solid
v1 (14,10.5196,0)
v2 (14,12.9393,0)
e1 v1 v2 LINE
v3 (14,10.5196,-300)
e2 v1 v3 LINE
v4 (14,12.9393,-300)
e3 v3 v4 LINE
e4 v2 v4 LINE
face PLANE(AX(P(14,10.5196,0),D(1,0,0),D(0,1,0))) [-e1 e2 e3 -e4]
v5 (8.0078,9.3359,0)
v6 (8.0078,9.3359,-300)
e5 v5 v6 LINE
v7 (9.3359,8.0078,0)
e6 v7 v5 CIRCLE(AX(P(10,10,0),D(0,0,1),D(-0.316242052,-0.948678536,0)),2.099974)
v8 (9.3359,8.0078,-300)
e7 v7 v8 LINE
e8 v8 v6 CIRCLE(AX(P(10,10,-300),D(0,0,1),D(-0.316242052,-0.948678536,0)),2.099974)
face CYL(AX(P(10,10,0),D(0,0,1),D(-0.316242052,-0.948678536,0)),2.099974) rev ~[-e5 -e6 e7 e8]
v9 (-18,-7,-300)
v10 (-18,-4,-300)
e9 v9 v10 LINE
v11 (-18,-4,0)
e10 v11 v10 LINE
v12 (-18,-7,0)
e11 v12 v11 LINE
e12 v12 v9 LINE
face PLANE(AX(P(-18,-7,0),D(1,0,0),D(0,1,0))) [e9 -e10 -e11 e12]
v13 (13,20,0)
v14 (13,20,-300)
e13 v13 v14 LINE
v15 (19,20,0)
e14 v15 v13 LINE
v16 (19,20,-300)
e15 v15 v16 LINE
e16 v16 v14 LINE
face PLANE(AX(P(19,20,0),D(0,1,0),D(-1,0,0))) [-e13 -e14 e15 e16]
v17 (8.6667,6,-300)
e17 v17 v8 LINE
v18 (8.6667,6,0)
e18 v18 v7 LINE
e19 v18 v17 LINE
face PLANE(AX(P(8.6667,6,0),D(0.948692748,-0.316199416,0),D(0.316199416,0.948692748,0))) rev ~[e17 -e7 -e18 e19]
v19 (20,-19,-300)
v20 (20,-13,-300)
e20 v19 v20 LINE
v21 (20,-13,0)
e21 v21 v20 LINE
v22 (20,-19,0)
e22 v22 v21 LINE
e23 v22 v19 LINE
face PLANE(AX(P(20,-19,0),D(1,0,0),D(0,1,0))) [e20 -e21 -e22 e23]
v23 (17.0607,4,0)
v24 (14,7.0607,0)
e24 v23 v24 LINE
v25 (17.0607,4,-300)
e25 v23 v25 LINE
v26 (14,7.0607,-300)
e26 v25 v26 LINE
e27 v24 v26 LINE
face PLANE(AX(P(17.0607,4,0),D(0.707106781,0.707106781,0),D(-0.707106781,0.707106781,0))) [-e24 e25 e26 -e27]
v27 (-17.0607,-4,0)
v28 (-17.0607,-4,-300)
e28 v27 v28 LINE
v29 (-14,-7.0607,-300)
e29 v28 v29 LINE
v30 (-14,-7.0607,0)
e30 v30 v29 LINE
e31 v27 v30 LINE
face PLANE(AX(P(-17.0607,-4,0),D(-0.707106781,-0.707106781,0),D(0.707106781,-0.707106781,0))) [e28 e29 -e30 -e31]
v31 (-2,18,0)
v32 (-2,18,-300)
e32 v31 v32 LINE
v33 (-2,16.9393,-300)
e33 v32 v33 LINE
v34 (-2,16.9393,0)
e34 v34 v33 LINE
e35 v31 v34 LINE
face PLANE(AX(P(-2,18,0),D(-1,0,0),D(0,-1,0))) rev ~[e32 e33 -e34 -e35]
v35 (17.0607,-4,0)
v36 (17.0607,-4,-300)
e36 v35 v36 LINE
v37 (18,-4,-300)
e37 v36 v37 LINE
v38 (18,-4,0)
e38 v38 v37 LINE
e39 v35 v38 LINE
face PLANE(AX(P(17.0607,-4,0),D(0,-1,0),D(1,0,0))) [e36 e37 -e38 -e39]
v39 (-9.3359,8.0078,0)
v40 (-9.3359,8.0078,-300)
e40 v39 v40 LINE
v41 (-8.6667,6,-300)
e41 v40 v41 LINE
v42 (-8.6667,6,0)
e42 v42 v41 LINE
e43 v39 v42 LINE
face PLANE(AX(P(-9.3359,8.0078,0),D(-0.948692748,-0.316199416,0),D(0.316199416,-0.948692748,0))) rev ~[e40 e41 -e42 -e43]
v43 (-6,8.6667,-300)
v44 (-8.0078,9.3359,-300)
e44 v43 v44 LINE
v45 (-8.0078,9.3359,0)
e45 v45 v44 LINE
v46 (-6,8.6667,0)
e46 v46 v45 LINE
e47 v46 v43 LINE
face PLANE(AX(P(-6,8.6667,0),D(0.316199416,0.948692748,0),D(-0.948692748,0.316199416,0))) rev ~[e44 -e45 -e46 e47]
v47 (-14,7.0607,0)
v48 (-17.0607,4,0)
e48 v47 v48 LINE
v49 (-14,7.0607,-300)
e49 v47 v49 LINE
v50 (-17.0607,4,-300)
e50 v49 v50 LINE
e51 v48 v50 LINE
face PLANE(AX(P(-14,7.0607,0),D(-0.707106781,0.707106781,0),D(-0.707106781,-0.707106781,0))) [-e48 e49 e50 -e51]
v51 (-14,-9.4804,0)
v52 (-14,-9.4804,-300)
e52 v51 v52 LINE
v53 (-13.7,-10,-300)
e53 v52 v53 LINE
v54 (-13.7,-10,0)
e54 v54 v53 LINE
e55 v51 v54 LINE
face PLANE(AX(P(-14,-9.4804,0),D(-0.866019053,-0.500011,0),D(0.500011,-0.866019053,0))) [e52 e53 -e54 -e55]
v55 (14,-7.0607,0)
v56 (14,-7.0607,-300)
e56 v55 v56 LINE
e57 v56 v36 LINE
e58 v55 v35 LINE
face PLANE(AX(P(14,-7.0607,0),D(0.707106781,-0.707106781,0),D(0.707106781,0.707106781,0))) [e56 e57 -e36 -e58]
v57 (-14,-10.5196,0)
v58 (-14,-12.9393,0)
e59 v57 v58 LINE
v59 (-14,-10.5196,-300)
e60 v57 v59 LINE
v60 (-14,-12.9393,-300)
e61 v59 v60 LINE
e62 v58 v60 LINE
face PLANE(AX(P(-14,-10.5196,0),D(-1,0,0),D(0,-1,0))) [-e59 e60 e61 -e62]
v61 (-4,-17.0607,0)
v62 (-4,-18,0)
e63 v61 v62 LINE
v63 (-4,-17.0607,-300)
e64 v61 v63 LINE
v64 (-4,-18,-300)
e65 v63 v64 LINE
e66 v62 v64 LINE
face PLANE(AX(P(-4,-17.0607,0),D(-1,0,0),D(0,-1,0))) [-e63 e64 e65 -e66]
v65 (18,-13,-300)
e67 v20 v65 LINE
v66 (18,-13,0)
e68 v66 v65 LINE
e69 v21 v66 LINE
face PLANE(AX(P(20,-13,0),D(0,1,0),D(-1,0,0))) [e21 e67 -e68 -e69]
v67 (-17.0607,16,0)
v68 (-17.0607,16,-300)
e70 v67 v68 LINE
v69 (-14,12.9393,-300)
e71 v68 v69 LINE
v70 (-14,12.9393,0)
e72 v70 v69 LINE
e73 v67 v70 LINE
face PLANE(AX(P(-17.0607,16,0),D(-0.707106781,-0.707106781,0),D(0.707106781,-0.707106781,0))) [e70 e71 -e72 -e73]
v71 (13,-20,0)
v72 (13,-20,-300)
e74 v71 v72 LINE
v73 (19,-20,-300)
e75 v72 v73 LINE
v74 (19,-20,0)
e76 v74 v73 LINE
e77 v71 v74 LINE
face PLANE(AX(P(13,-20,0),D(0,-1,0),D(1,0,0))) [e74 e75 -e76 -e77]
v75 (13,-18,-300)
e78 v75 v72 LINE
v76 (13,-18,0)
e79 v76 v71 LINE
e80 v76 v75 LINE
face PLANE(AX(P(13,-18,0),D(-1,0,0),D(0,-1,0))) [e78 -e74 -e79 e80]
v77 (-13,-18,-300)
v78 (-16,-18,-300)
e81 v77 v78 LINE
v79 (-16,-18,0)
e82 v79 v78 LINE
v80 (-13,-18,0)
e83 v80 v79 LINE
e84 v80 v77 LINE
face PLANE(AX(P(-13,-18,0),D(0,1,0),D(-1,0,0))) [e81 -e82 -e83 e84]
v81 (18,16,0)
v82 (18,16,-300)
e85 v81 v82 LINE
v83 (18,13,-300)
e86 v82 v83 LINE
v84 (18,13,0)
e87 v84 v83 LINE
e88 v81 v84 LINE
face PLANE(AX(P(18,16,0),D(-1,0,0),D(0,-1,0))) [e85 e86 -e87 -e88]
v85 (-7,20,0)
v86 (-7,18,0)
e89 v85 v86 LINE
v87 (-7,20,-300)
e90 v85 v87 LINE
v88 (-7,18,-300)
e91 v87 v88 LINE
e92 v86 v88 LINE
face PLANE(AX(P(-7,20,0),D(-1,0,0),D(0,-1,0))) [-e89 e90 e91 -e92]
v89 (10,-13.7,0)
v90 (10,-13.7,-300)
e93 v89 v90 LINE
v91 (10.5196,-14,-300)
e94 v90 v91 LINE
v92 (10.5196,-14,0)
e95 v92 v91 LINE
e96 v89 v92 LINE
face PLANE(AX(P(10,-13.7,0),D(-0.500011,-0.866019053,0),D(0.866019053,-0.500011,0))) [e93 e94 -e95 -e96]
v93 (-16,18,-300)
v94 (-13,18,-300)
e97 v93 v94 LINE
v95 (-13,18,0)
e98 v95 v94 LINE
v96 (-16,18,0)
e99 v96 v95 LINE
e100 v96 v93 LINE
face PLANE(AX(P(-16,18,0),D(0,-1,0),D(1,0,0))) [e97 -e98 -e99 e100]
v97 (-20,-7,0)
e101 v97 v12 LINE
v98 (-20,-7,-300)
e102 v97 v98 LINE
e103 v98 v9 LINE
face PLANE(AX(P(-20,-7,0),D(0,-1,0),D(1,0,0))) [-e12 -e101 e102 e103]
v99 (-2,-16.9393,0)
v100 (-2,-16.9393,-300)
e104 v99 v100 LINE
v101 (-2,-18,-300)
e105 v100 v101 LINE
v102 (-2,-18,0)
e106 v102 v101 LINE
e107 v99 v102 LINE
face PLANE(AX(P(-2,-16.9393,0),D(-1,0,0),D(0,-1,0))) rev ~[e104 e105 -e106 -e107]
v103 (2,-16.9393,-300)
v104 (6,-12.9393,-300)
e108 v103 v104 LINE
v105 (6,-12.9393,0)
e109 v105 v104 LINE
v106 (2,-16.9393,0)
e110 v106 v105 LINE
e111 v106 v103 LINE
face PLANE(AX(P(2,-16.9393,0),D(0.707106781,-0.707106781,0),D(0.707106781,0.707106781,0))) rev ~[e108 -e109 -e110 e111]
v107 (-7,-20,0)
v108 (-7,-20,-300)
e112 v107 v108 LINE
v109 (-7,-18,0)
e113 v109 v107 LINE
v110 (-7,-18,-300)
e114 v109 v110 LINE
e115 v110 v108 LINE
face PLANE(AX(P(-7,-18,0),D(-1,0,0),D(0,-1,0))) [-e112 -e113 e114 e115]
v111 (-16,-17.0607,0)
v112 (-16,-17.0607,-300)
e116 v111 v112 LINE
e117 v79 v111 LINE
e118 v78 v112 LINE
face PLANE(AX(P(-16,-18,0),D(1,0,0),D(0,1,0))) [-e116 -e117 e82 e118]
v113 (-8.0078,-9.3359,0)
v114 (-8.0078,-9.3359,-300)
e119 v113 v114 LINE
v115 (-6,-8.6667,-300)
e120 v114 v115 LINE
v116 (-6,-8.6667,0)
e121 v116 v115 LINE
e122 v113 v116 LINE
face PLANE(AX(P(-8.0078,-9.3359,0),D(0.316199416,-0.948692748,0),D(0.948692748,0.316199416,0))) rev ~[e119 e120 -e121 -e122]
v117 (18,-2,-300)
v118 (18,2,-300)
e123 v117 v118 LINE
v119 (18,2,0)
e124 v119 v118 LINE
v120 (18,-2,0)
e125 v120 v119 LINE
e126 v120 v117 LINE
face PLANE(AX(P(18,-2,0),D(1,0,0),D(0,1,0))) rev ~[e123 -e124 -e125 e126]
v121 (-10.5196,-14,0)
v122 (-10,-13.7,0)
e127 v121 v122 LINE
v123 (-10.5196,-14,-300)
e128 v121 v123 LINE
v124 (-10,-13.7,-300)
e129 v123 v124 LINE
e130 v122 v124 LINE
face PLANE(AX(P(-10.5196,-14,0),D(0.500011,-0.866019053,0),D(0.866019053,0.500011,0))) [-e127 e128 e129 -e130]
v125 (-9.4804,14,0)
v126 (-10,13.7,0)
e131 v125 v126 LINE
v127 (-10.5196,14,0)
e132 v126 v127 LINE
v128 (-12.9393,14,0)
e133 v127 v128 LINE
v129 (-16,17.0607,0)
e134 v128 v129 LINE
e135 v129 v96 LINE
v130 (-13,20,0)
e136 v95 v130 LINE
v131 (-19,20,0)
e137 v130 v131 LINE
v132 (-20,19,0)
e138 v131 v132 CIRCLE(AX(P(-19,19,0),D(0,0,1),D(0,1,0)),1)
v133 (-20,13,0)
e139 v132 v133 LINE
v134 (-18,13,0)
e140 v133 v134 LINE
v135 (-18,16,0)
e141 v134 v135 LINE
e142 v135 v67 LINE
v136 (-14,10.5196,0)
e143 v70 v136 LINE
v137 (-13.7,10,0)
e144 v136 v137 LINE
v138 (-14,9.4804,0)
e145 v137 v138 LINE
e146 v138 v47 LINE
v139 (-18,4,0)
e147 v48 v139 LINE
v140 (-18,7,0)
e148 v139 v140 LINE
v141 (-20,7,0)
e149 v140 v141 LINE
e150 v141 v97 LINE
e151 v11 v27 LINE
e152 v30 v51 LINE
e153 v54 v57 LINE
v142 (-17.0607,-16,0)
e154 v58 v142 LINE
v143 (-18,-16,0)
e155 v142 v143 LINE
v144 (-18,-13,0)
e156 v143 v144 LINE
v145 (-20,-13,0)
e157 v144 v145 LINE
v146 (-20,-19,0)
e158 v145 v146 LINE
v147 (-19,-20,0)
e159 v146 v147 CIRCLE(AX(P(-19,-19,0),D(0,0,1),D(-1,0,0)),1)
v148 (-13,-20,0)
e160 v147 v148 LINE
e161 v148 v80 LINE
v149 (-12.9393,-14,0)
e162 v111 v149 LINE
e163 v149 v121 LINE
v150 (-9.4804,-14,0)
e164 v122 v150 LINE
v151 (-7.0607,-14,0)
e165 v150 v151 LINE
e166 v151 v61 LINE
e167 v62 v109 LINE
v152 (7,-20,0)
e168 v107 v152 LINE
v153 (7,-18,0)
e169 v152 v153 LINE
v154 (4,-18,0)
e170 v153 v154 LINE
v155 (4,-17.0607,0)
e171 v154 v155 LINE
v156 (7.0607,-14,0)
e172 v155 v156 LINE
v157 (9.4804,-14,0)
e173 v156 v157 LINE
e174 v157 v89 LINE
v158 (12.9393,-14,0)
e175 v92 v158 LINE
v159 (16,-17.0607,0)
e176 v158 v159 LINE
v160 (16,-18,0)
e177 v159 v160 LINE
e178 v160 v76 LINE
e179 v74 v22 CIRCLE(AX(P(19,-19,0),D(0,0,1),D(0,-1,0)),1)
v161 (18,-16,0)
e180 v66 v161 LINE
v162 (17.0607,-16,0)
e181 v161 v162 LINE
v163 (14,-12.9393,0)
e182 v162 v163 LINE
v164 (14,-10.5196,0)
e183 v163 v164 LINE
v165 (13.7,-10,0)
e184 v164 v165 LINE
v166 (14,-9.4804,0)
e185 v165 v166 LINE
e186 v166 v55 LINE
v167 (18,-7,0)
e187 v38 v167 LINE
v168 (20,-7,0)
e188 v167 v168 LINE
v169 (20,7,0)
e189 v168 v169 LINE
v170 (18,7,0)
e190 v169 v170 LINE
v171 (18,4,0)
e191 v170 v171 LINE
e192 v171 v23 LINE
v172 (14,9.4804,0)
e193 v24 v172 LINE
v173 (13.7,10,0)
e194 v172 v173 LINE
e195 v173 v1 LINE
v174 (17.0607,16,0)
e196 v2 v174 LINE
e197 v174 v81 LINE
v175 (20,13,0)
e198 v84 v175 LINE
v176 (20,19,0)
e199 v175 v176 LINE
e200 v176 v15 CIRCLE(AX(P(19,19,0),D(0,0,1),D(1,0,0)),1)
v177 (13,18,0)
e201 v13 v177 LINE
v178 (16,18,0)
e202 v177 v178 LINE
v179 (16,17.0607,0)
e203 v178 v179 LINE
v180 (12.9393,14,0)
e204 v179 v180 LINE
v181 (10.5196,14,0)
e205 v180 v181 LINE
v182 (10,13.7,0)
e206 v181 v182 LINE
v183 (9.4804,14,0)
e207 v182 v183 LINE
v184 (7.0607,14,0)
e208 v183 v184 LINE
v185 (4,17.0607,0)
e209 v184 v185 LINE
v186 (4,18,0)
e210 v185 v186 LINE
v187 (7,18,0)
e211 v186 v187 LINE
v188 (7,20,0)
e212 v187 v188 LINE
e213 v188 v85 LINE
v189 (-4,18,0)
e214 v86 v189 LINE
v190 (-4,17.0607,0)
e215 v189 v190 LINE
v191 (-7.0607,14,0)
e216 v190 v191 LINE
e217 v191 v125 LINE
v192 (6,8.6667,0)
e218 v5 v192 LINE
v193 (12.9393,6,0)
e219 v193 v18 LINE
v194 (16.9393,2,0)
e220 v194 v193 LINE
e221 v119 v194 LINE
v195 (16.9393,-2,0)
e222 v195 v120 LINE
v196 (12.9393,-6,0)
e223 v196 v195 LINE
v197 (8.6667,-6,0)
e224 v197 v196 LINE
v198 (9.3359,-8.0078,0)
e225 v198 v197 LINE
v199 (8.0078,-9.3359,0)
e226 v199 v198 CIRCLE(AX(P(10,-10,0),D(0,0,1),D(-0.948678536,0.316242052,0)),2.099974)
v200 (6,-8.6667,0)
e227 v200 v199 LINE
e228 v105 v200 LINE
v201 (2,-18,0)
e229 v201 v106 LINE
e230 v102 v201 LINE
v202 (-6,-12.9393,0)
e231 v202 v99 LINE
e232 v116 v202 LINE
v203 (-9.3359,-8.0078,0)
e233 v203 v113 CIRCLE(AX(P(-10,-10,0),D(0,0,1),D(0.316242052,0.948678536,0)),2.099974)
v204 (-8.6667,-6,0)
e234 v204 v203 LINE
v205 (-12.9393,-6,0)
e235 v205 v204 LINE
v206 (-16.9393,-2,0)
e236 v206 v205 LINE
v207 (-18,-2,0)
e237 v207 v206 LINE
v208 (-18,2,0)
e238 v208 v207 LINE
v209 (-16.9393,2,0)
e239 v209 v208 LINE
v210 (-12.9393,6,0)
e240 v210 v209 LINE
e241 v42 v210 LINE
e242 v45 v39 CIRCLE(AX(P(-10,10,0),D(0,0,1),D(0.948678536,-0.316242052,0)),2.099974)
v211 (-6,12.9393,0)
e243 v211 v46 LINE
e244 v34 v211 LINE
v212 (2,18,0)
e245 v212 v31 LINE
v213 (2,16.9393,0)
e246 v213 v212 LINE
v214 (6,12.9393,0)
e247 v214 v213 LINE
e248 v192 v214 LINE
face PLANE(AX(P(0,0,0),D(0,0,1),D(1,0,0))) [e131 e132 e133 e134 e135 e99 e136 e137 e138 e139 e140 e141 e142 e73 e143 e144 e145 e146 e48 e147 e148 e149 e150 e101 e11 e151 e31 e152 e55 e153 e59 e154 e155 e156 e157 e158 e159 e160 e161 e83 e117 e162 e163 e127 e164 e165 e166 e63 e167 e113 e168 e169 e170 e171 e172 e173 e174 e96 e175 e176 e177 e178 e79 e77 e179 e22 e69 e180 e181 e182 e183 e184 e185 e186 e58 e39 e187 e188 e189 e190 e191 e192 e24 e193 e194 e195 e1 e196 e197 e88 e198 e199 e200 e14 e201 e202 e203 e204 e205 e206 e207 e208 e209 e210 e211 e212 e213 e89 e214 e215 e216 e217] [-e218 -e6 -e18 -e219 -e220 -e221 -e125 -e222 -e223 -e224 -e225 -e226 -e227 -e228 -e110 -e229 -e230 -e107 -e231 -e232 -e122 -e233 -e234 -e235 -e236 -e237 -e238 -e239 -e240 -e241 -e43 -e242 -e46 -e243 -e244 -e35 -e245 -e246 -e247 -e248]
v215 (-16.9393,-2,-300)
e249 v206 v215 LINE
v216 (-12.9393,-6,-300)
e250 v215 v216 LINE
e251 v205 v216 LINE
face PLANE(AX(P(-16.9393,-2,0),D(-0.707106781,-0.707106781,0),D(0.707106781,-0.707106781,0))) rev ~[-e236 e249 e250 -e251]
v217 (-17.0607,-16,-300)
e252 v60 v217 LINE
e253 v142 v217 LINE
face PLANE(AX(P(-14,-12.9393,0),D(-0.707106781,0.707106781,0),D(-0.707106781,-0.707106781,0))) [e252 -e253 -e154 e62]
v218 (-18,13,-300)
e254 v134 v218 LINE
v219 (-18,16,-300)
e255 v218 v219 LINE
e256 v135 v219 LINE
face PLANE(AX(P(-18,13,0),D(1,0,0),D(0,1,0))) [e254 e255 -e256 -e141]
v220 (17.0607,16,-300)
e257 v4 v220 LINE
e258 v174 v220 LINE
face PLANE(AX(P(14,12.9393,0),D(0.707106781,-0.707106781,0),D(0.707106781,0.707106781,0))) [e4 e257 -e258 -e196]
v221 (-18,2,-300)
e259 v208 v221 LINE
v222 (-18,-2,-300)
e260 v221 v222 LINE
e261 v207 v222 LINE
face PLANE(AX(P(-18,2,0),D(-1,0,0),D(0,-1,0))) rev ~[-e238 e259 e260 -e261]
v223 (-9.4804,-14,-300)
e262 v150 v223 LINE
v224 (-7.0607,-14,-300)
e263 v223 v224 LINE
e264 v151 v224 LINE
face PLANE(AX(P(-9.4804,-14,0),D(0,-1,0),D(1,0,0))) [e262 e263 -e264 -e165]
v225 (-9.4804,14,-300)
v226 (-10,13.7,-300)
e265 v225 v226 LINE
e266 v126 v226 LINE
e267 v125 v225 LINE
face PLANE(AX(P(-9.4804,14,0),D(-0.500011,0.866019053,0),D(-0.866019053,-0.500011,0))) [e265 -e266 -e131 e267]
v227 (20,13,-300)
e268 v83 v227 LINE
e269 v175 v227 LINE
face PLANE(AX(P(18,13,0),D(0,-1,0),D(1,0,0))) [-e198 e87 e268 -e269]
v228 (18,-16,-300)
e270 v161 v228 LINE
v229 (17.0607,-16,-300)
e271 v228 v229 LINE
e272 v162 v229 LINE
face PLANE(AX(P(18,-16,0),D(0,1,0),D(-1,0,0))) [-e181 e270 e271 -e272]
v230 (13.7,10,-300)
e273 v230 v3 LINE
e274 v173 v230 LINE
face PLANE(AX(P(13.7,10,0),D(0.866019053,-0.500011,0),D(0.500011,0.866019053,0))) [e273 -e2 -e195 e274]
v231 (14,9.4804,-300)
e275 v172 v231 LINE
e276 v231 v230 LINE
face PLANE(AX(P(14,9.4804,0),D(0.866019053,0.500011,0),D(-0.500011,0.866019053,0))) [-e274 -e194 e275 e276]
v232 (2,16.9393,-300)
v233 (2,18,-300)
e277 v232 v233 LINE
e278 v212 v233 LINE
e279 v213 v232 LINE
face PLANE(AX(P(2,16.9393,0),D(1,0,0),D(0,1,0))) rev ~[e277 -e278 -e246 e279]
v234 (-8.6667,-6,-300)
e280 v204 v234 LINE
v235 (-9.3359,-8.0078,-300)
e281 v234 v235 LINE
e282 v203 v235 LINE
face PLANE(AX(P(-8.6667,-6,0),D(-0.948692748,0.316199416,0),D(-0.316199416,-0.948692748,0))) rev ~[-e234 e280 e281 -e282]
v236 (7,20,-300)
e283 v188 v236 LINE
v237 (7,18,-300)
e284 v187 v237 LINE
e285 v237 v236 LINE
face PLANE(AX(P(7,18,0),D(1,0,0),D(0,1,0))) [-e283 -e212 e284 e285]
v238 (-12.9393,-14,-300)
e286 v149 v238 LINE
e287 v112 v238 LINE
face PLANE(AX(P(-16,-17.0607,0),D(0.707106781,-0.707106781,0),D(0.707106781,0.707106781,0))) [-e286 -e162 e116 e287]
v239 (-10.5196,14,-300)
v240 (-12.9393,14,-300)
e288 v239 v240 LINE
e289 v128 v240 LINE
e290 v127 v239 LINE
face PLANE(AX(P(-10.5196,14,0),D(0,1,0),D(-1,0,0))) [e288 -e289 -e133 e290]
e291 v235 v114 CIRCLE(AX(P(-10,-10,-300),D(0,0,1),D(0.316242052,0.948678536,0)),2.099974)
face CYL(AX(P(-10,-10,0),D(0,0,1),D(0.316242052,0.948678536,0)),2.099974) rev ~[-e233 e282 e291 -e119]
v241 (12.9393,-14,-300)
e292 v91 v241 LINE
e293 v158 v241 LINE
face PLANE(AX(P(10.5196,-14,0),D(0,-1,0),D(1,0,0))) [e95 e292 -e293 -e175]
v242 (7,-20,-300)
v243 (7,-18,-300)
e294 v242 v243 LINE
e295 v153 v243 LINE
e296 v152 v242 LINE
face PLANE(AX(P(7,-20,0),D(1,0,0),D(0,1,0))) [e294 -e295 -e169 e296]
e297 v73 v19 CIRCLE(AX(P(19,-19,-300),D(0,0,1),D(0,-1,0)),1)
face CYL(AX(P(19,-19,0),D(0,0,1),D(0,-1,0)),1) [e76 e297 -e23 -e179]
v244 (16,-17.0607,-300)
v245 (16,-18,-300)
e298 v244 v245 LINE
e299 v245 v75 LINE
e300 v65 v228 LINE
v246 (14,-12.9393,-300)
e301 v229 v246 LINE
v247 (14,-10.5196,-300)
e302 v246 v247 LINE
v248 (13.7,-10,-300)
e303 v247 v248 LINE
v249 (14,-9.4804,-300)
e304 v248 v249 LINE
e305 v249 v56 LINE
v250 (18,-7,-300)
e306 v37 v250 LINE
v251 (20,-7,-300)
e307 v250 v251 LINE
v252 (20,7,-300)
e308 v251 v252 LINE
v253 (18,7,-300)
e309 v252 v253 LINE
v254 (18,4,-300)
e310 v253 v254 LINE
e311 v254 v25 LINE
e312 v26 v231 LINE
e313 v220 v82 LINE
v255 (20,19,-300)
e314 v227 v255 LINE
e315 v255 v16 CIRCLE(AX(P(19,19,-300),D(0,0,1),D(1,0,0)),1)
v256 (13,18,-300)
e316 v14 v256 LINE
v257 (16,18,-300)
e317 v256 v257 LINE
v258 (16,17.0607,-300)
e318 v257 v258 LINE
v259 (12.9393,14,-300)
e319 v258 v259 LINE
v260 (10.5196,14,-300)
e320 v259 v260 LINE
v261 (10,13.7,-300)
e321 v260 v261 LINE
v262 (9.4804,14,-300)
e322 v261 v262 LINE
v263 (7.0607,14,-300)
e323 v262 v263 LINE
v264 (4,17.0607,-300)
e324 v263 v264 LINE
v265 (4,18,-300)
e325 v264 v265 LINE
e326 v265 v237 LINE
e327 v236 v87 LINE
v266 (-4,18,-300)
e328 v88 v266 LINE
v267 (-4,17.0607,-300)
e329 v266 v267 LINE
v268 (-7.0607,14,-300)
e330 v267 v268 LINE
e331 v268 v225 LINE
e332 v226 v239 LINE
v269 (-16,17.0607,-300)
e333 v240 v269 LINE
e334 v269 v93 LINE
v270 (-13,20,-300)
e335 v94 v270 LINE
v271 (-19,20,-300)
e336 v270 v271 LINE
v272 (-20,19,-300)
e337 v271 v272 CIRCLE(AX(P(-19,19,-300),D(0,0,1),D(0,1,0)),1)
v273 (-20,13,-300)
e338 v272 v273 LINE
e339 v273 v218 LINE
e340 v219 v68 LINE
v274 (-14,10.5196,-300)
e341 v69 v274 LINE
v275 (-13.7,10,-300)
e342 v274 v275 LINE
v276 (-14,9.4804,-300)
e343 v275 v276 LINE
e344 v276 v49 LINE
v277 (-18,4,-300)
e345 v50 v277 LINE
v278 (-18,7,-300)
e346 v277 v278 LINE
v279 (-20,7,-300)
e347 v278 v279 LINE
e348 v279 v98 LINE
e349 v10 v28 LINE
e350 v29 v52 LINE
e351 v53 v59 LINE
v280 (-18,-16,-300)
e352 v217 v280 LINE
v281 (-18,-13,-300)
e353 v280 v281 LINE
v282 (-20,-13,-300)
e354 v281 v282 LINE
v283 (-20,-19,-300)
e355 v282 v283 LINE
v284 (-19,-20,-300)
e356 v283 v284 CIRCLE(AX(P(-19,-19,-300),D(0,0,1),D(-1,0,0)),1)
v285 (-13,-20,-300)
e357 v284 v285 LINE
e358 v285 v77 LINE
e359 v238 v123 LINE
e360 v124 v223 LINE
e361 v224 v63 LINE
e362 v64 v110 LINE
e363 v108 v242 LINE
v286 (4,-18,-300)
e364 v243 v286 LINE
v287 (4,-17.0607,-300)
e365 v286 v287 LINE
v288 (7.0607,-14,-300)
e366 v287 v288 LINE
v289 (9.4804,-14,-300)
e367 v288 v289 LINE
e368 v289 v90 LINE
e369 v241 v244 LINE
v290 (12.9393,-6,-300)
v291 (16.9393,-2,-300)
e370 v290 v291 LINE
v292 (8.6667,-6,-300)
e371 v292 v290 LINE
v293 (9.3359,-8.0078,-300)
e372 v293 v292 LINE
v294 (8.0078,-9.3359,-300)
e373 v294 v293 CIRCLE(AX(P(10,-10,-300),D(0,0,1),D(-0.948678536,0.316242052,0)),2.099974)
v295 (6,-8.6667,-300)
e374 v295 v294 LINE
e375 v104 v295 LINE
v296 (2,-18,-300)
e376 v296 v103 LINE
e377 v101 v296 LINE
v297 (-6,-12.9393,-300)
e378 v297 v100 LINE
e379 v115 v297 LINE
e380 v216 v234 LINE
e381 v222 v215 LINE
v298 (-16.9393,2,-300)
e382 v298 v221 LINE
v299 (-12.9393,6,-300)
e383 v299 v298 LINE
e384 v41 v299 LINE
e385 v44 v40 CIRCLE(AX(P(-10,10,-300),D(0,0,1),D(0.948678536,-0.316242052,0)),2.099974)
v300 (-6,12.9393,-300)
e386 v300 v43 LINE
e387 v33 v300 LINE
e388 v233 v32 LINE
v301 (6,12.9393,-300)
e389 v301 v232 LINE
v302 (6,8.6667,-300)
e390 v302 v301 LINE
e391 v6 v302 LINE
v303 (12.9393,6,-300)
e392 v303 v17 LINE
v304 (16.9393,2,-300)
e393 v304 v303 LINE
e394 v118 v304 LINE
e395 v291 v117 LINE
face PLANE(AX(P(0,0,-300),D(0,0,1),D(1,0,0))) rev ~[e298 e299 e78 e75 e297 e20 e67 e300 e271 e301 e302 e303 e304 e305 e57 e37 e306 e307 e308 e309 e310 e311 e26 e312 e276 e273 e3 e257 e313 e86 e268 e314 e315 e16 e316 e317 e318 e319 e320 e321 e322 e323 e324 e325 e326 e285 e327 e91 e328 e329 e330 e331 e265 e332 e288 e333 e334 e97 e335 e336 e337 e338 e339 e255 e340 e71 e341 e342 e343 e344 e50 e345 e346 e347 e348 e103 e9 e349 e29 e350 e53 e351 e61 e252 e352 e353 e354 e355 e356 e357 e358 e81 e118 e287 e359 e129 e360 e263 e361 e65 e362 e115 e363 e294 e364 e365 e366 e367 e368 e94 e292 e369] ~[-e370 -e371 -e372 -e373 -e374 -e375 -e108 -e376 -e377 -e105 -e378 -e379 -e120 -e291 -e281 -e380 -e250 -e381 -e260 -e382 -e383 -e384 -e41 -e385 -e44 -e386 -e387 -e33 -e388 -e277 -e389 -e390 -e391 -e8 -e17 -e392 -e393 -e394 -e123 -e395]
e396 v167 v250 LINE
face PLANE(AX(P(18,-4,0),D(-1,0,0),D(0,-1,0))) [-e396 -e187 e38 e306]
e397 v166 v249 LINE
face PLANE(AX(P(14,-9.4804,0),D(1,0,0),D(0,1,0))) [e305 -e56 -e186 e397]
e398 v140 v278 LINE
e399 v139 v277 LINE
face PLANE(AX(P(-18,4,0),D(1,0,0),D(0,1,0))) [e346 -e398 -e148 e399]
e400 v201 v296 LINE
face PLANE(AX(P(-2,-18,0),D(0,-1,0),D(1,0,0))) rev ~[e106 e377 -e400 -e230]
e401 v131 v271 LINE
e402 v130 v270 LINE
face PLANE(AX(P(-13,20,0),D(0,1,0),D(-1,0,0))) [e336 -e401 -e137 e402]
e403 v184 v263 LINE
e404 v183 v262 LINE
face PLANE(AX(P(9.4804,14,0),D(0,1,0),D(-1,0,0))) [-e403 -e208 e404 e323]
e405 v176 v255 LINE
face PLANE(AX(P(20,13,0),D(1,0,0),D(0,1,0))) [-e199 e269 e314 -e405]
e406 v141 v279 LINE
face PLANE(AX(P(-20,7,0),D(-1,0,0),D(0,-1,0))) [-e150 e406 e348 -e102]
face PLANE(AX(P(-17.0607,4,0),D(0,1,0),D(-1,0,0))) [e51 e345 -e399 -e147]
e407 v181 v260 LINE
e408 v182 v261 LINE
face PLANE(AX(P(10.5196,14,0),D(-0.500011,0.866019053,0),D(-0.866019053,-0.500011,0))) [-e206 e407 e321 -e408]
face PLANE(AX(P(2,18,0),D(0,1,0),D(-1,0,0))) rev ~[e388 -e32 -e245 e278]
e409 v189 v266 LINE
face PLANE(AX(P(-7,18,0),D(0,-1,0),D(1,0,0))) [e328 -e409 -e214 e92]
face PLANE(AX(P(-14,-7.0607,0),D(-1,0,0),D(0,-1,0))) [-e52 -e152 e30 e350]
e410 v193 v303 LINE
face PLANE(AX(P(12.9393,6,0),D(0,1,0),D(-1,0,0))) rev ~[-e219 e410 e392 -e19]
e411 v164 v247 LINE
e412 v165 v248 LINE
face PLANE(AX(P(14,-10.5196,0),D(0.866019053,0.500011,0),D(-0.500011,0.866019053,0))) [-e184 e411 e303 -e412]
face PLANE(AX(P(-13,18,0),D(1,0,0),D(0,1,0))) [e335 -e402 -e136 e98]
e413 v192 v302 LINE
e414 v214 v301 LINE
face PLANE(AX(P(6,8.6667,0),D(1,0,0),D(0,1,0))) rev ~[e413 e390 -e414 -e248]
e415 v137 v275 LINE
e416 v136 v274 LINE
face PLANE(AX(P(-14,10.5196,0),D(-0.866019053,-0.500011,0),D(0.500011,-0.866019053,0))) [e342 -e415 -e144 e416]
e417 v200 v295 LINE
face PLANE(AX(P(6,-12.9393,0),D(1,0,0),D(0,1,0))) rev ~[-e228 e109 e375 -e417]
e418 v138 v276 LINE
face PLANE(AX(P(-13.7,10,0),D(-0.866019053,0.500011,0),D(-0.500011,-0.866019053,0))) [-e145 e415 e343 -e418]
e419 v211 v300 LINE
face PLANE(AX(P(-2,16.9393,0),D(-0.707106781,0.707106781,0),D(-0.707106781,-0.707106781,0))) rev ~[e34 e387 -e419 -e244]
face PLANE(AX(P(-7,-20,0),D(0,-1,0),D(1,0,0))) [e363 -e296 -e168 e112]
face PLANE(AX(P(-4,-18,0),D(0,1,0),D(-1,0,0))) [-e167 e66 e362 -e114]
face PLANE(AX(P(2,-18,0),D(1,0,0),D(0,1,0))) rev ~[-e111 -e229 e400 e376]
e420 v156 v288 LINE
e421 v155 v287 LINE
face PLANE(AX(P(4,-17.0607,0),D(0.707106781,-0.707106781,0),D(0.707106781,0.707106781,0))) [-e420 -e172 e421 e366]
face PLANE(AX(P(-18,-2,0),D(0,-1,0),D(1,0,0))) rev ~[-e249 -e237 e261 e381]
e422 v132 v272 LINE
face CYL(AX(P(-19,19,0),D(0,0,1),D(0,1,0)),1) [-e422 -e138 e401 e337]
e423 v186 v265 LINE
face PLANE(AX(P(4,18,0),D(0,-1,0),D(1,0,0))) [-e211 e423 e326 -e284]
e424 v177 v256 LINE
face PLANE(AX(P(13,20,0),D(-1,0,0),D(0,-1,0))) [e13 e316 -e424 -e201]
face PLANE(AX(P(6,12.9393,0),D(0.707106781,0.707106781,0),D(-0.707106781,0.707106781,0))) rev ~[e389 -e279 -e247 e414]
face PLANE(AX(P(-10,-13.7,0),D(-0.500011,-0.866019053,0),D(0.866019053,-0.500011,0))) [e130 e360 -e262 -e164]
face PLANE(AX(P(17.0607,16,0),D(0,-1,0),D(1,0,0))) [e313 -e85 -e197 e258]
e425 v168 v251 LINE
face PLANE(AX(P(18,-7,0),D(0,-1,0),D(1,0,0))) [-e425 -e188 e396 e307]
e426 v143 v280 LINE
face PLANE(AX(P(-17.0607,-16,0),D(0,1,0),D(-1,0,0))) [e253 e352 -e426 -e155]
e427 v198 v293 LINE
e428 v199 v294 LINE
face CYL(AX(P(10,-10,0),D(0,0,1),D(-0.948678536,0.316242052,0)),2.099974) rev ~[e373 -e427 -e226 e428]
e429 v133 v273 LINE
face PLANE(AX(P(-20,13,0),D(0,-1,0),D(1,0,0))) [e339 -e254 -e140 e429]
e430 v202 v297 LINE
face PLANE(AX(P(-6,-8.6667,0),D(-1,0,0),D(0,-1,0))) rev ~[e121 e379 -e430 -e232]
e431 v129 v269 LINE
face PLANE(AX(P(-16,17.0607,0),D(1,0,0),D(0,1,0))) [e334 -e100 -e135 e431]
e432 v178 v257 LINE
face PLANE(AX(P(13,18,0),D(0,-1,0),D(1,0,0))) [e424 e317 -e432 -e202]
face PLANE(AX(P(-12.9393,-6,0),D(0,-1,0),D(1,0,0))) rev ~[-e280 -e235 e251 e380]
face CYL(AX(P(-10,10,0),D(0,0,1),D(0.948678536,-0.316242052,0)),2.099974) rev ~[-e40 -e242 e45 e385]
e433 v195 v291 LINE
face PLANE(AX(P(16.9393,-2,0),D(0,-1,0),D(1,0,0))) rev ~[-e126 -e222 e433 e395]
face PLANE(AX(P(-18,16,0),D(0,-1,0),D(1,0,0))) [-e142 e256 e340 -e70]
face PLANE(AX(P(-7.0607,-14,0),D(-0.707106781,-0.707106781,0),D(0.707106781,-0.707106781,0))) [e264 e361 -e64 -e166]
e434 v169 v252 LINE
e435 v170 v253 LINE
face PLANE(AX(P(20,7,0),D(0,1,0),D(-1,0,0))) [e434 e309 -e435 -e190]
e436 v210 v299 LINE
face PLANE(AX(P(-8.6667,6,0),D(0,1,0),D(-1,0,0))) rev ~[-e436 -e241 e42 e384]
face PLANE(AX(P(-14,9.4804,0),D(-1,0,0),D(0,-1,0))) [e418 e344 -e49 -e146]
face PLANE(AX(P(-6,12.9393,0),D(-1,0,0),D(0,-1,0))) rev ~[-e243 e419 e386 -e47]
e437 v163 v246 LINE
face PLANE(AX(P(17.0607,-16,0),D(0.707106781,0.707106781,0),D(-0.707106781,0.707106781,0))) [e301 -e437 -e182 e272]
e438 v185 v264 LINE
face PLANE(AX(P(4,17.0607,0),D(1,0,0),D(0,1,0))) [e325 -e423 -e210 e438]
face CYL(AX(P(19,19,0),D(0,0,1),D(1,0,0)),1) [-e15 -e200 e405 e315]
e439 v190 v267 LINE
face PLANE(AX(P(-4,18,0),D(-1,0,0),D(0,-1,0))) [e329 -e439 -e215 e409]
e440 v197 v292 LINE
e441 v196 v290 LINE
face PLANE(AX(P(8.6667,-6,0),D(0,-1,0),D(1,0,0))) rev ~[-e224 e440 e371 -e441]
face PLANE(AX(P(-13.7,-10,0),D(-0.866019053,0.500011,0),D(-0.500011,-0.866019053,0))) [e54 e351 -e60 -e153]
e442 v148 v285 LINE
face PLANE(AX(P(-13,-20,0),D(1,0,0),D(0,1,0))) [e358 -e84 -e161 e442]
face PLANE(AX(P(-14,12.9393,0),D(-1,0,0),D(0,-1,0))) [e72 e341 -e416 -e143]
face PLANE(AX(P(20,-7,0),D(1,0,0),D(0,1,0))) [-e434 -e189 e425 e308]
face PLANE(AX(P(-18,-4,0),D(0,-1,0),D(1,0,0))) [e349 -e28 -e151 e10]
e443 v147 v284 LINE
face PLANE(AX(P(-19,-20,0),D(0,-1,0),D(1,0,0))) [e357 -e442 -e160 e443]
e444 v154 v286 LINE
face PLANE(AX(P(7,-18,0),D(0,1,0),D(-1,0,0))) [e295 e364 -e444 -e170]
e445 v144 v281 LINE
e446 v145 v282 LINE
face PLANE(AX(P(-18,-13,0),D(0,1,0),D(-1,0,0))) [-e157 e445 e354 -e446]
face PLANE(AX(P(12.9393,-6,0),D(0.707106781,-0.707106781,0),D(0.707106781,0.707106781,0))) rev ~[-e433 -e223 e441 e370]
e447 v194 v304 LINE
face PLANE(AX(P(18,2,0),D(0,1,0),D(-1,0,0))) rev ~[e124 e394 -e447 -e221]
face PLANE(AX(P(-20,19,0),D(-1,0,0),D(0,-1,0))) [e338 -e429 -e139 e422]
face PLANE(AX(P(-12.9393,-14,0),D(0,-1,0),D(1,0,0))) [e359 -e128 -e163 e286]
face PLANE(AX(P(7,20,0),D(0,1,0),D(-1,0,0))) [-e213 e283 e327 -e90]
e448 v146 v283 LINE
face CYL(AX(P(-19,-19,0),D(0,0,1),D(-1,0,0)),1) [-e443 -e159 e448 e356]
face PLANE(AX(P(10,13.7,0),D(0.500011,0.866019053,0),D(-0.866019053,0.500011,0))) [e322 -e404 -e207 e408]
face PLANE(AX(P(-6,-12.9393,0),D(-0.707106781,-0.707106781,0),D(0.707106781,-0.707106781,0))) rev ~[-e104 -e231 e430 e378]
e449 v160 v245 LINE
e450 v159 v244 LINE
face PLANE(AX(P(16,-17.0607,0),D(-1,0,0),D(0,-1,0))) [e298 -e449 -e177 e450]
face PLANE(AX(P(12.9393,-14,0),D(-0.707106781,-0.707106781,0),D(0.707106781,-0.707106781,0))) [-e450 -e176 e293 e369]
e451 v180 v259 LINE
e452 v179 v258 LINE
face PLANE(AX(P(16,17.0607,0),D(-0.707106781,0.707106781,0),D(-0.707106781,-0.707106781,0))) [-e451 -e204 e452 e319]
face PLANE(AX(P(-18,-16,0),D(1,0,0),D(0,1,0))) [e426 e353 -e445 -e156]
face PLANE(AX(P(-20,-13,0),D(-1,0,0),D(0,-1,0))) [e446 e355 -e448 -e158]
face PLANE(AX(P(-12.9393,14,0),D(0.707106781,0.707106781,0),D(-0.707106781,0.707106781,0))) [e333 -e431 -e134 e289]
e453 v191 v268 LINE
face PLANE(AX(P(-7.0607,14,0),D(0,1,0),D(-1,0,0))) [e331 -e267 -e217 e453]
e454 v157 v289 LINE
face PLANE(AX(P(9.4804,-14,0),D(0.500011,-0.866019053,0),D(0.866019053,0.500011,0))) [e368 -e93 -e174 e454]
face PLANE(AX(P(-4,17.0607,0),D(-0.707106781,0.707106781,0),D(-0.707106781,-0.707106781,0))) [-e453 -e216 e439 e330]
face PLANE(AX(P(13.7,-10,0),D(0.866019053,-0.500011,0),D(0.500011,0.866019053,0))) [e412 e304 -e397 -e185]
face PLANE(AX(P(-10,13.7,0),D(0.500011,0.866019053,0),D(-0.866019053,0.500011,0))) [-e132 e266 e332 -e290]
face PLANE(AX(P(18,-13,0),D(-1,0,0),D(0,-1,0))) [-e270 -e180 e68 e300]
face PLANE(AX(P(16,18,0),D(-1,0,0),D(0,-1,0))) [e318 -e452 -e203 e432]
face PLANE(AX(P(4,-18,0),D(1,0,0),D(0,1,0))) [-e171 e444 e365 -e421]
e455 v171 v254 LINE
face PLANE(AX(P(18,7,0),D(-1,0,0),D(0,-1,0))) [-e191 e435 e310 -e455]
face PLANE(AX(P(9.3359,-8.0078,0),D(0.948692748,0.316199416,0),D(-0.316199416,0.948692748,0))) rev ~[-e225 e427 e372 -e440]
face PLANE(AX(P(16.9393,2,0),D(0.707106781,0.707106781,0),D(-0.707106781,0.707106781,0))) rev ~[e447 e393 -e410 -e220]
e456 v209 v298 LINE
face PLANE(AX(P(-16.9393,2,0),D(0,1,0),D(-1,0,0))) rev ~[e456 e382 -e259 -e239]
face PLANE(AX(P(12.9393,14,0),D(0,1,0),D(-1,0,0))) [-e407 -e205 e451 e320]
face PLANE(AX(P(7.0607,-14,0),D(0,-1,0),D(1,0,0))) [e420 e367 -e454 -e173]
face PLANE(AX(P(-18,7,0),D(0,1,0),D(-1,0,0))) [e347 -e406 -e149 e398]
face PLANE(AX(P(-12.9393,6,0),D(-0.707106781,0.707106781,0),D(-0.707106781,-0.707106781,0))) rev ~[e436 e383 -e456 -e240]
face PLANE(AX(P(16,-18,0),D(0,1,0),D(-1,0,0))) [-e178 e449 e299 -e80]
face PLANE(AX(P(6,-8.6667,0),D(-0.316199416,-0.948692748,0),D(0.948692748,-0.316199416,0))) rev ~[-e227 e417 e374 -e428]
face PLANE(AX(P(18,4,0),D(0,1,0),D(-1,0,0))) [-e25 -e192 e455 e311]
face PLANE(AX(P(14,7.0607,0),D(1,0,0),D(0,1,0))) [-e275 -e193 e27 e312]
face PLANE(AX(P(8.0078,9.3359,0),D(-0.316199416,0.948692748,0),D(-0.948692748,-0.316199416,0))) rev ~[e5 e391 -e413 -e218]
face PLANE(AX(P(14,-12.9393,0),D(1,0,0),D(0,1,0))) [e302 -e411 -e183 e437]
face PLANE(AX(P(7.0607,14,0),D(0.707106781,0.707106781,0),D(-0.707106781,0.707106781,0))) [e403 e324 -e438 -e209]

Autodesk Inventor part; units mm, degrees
sketch "Sketch_1" plane through (0, 0, 0) normal (0, 0, 1) x (1, 0, 0)
  line L0 (-20, -7) -> (-18, -7)
  line L1 (-18, -7) -> (-18, -4)
  line L2 (-18, -4) -> (-17.0607, -4)
  line L3 (-17.0607, -4) -> (-14, -7.0607)
  line L4 (-14, -7.0607) -> (-14, -9.4804)
  line L5 (-14, -9.4804) -> (-13.7, -10)
  line L6 (-13.7, -10) -> (-14, -10.5196)
  line L7 (-14, -10.5196) -> (-14, -12.9393)
  line L8 (-14, -12.9393) -> (-17.0607, -16)
  line L9 (-17.0607, -16) -> (-18, -16)
  line L10 (-18, -16) -> (-18, -13)
  line L11 (-18, -13) -> (-20, -13)
  line L12 (-20, -13) -> (-20, -19)
  arc A0 (-20, -19) -> (-19, -20) centre (-19, -19) ccw
  line L13 (-19, -20) -> (-13, -20)
  line L14 (-13, -20) -> (-13, -18)
  line L15 (-13, -18) -> (-16, -18)
  line L16 (-16, -18) -> (-16, -17.0607)
  line L17 (-16, -17.0607) -> (-12.9393, -14)
  line L18 (-12.9393, -14) -> (-10.5196, -14)
  line L19 (-10.5196, -14) -> (-10, -13.7)
  line L20 (-10, -13.7) -> (-9.4804, -14)
  line L21 (-9.4804, -14) -> (-7.0607, -14)
  line L22 (-7.0607, -14) -> (-4, -17.0607)
  line L23 (-4, -17.0607) -> (-4, -18)
  line L24 (-4, -18) -> (-7, -18)
  line L25 (-7, -18) -> (-7, -20)
  line L26 (-7, -20) -> (7, -20)
  line L27 (7, -20) -> (7, -18)
  line L28 (7, -18) -> (4, -18)
  line L29 (4, -18) -> (4, -17.0607)
  line L30 (4, -17.0607) -> (7.0607, -14)
  line L31 (7.0607, -14) -> (9.4804, -14)
  line L32 (9.4804, -14) -> (10, -13.7)
  line L33 (10, -13.7) -> (10.5196, -14)
  line L34 (10.5196, -14) -> (12.9393, -14)
  line L35 (12.9393, -14) -> (16, -17.0607)
  line L36 (16, -17.0607) -> (16, -18)
  line L37 (16, -18) -> (13, -18)
  line L38 (13, -18) -> (13, -20)
  line L39 (13, -20) -> (19, -20)
  arc A1 (19, -20) -> (20, -19) centre (19, -19) ccw
  line L40 (20, -19) -> (20, -13)
  line L41 (20, -13) -> (18, -13)
  line L42 (18, -13) -> (18, -16)
  line L43 (18, -16) -> (17.0607, -16)
  line L44 (17.0607, -16) -> (14, -12.9393)
  line L45 (14, -12.9393) -> (14, -10.5196)
  line L46 (14, -10.5196) -> (13.7, -10)
  line L47 (13.7, -10) -> (14, -9.4804)
  line L48 (14, -9.4804) -> (14, -7.0607)
  line L49 (14, -7.0607) -> (17.0607, -4)
  line L50 (17.0607, -4) -> (18, -4)
  line L51 (18, -4) -> (18, -7)
  line L52 (18, -7) -> (20, -7)
  line L53 (20, -7) -> (20, 7)
  line L54 (20, 7) -> (18, 7)
  line L55 (18, 7) -> (18, 4)
  line L56 (18, 4) -> (17.0607, 4)
  line L57 (17.0607, 4) -> (14, 7.0607)
  line L58 (14, 7.0607) -> (14, 9.4804)
  line L59 (14, 9.4804) -> (13.7, 10)
  line L60 (13.7, 10) -> (14, 10.5196)
  line L61 (14, 10.5196) -> (14, 12.9393)
  line L62 (14, 12.9393) -> (17.0607, 16)
  line L63 (17.0607, 16) -> (18, 16)
  line L64 (18, 16) -> (18, 13)
  line L65 (18, 13) -> (20, 13)
  line L66 (20, 13) -> (20, 19)
  arc A2 (20, 19) -> (19, 20) centre (19, 19) ccw
  line L67 (19, 20) -> (13, 20)
  line L68 (13, 20) -> (13, 18)
  line L69 (13, 18) -> (16, 18)
  line L70 (16, 18) -> (16, 17.0607)
  line L71 (16, 17.0607) -> (12.9393, 14)
  line L72 (12.9393, 14) -> (10.5196, 14)
  line L73 (10.5196, 14) -> (10, 13.7)
  line L74 (10, 13.7) -> (9.4804, 14)
  line L75 (9.4804, 14) -> (7.0607, 14)
  line L76 (7.0607, 14) -> (4, 17.0607)
  line L77 (4, 17.0607) -> (4, 18)
  line L78 (4, 18) -> (7, 18)
  line L79 (7, 18) -> (7, 20)
  line L80 (7, 20) -> (-7, 20)
  line L81 (-7, 20) -> (-7, 18)
  line L82 (-7, 18) -> (-4, 18)
  line L83 (-4, 18) -> (-4, 17.0607)
  line L84 (-4, 17.0607) -> (-7.0607, 14)
  line L85 (-7.0607, 14) -> (-9.4804, 14)
  line L86 (-9.4804, 14) -> (-10, 13.7)
  line L87 (-10, 13.7) -> (-10.5196, 14)
  line L88 (-10.5196, 14) -> (-12.9393, 14)
  line L89 (-12.9393, 14) -> (-16, 17.0607)
  line L90 (-16, 17.0607) -> (-16, 18)
  line L91 (-16, 18) -> (-13, 18)
  line L92 (-13, 18) -> (-13, 20)
  line L93 (-13, 20) -> (-19, 20)
  arc A3 (-19, 20) -> (-20, 19) centre (-19, 19) ccw
  line L94 (-20, 19) -> (-20, 13)
  line L95 (-20, 13) -> (-18, 13)
  line L96 (-18, 13) -> (-18, 16)
  line L97 (-18, 16) -> (-17.0607, 16)
  line L98 (-17.0607, 16) -> (-14, 12.9393)
  line L99 (-14, 12.9393) -> (-14, 10.5196)
  line L100 (-14, 10.5196) -> (-13.7, 10)
  line L101 (-13.7, 10) -> (-14, 9.4804)
  line L102 (-14, 9.4804) -> (-14, 7.0607)
  line L103 (-14, 7.0607) -> (-17.0607, 4)
  line L104 (-17.0607, 4) -> (-18, 4)
  line L105 (-18, 4) -> (-18, 7)
  line L106 (-18, 7) -> (-20, 7)
  line L107 (-20, 7) -> (-20, -7)
extrude "Extrusion1" add sketch "Sketch_1" against normal blind 300
sketch "Sketch_130" plane through (0, 0, 0) normal (0, 0, 1) x (1, 0, 0)
  line L0 (-18, 2) -> (-18, -2)
  line L1 (-18, -2) -> (-16.9393, -2)
  line L2 (-16.9393, -2) -> (-12.9393, -6)
  line L3 (-12.9393, -6) -> (-8.6667, -6)
  line L4 (-8.6667, -6) -> (-9.3359, -8.0078)
  arc A0 (-9.3359, -8.0078) -> (-8.0078, -9.3359) centre (-10, -10) ccw
  line L5 (-8.0078, -9.3359) -> (-6, -8.6667)
  line L6 (-6, -8.6667) -> (-6, -12.9393)
  line L7 (-6, -12.9393) -> (-2, -16.9393)
  line L8 (-2, -16.9393) -> (-2, -18)
  line L9 (-2, -18) -> (2, -18)
  line L10 (2, -18) -> (2, -16.9393)
  line L11 (2, -16.9393) -> (6, -12.9393)
  line L12 (6, -12.9393) -> (6, -8.6667)
  line L13 (6, -8.6667) -> (8.0078, -9.3359)
  arc A1 (8.0078, -9.3359) -> (9.3359, -8.0078) centre (10, -10) ccw
  line L14 (9.3359, -8.0078) -> (8.6667, -6)
  line L15 (8.6667, -6) -> (12.9393, -6)
  line L16 (12.9393, -6) -> (16.9393, -2)
  line L17 (16.9393, -2) -> (18, -2)
  line L18 (18, -2) -> (18, 2)
  line L19 (18, 2) -> (16.9393, 2)
  line L20 (16.9393, 2) -> (12.9393, 6)
  line L21 (12.9393, 6) -> (8.6667, 6)
  line L22 (8.6667, 6) -> (9.3359, 8.0078)
  arc A2 (9.3359, 8.0078) -> (8.0078, 9.3359) centre (10, 10) ccw
  line L23 (8.0078, 9.3359) -> (6, 8.6667)
  line L24 (6, 8.6667) -> (6, 12.9393)
  line L25 (6, 12.9393) -> (2, 16.9393)
  line L26 (2, 16.9393) -> (2, 18)
  line L27 (2, 18) -> (-2, 18)
  line L28 (-2, 18) -> (-2, 16.9393)
  line L29 (-2, 16.9393) -> (-6, 12.9393)
  line L30 (-6, 12.9393) -> (-6, 8.6667)
  line L31 (-6, 8.6667) -> (-8.0078, 9.3359)
  arc A3 (-8.0078, 9.3359) -> (-9.3359, 8.0078) centre (-10, 10) ccw
  line L32 (-9.3359, 8.0078) -> (-8.6667, 6)
  line L33 (-8.6667, 6) -> (-12.9393, 6)
  line L34 (-12.9393, 6) -> (-16.9393, 2)
  line L35 (-16.9393, 2) -> (-18, 2)
extrude "Extrusion2" cut sketch "Sketch_130" against normal blind 300
ref_plane "C1_XY" through (0, 0, 0) normal (0, 0, 1) x (1, 0, 0)
ref_plane "C1_YZ" through (0, 0, 0) normal (1, 0, 0) x (0, 1, 0)
ref_plane "C1_ZX" through (0, 0, 0) normal (0, 1, 0) x (0, 0, 1)
ref_plane "to_frame_cap1_XY" through (0, 0, 0) normal (0, 0, 1) x (1, 0, 0)
ref_plane "to_frame_cap1_YZ" through (0, 0, 0) normal (1, 0, 0) x (0, 1, 0)
ref_plane "to_frame_cap1_ZX" through (0, 0, 0) normal (0, 1, 0) x (0, 0, 1)
ref_plane "to_frame_cap2_XY" through (0, 0, -300) normal (0, 0, -1) x (1, 0, 0)
ref_plane "to_frame_cap2_YZ" through (0, 0, -300) normal (1, 0, 0) x (0, -1, 0)
ref_plane "to_frame_cap2_ZX" through (0, 0, -300) normal (0, -1, 0) x (0, 0, -1)
properties part number "HFS5-4040-300"
